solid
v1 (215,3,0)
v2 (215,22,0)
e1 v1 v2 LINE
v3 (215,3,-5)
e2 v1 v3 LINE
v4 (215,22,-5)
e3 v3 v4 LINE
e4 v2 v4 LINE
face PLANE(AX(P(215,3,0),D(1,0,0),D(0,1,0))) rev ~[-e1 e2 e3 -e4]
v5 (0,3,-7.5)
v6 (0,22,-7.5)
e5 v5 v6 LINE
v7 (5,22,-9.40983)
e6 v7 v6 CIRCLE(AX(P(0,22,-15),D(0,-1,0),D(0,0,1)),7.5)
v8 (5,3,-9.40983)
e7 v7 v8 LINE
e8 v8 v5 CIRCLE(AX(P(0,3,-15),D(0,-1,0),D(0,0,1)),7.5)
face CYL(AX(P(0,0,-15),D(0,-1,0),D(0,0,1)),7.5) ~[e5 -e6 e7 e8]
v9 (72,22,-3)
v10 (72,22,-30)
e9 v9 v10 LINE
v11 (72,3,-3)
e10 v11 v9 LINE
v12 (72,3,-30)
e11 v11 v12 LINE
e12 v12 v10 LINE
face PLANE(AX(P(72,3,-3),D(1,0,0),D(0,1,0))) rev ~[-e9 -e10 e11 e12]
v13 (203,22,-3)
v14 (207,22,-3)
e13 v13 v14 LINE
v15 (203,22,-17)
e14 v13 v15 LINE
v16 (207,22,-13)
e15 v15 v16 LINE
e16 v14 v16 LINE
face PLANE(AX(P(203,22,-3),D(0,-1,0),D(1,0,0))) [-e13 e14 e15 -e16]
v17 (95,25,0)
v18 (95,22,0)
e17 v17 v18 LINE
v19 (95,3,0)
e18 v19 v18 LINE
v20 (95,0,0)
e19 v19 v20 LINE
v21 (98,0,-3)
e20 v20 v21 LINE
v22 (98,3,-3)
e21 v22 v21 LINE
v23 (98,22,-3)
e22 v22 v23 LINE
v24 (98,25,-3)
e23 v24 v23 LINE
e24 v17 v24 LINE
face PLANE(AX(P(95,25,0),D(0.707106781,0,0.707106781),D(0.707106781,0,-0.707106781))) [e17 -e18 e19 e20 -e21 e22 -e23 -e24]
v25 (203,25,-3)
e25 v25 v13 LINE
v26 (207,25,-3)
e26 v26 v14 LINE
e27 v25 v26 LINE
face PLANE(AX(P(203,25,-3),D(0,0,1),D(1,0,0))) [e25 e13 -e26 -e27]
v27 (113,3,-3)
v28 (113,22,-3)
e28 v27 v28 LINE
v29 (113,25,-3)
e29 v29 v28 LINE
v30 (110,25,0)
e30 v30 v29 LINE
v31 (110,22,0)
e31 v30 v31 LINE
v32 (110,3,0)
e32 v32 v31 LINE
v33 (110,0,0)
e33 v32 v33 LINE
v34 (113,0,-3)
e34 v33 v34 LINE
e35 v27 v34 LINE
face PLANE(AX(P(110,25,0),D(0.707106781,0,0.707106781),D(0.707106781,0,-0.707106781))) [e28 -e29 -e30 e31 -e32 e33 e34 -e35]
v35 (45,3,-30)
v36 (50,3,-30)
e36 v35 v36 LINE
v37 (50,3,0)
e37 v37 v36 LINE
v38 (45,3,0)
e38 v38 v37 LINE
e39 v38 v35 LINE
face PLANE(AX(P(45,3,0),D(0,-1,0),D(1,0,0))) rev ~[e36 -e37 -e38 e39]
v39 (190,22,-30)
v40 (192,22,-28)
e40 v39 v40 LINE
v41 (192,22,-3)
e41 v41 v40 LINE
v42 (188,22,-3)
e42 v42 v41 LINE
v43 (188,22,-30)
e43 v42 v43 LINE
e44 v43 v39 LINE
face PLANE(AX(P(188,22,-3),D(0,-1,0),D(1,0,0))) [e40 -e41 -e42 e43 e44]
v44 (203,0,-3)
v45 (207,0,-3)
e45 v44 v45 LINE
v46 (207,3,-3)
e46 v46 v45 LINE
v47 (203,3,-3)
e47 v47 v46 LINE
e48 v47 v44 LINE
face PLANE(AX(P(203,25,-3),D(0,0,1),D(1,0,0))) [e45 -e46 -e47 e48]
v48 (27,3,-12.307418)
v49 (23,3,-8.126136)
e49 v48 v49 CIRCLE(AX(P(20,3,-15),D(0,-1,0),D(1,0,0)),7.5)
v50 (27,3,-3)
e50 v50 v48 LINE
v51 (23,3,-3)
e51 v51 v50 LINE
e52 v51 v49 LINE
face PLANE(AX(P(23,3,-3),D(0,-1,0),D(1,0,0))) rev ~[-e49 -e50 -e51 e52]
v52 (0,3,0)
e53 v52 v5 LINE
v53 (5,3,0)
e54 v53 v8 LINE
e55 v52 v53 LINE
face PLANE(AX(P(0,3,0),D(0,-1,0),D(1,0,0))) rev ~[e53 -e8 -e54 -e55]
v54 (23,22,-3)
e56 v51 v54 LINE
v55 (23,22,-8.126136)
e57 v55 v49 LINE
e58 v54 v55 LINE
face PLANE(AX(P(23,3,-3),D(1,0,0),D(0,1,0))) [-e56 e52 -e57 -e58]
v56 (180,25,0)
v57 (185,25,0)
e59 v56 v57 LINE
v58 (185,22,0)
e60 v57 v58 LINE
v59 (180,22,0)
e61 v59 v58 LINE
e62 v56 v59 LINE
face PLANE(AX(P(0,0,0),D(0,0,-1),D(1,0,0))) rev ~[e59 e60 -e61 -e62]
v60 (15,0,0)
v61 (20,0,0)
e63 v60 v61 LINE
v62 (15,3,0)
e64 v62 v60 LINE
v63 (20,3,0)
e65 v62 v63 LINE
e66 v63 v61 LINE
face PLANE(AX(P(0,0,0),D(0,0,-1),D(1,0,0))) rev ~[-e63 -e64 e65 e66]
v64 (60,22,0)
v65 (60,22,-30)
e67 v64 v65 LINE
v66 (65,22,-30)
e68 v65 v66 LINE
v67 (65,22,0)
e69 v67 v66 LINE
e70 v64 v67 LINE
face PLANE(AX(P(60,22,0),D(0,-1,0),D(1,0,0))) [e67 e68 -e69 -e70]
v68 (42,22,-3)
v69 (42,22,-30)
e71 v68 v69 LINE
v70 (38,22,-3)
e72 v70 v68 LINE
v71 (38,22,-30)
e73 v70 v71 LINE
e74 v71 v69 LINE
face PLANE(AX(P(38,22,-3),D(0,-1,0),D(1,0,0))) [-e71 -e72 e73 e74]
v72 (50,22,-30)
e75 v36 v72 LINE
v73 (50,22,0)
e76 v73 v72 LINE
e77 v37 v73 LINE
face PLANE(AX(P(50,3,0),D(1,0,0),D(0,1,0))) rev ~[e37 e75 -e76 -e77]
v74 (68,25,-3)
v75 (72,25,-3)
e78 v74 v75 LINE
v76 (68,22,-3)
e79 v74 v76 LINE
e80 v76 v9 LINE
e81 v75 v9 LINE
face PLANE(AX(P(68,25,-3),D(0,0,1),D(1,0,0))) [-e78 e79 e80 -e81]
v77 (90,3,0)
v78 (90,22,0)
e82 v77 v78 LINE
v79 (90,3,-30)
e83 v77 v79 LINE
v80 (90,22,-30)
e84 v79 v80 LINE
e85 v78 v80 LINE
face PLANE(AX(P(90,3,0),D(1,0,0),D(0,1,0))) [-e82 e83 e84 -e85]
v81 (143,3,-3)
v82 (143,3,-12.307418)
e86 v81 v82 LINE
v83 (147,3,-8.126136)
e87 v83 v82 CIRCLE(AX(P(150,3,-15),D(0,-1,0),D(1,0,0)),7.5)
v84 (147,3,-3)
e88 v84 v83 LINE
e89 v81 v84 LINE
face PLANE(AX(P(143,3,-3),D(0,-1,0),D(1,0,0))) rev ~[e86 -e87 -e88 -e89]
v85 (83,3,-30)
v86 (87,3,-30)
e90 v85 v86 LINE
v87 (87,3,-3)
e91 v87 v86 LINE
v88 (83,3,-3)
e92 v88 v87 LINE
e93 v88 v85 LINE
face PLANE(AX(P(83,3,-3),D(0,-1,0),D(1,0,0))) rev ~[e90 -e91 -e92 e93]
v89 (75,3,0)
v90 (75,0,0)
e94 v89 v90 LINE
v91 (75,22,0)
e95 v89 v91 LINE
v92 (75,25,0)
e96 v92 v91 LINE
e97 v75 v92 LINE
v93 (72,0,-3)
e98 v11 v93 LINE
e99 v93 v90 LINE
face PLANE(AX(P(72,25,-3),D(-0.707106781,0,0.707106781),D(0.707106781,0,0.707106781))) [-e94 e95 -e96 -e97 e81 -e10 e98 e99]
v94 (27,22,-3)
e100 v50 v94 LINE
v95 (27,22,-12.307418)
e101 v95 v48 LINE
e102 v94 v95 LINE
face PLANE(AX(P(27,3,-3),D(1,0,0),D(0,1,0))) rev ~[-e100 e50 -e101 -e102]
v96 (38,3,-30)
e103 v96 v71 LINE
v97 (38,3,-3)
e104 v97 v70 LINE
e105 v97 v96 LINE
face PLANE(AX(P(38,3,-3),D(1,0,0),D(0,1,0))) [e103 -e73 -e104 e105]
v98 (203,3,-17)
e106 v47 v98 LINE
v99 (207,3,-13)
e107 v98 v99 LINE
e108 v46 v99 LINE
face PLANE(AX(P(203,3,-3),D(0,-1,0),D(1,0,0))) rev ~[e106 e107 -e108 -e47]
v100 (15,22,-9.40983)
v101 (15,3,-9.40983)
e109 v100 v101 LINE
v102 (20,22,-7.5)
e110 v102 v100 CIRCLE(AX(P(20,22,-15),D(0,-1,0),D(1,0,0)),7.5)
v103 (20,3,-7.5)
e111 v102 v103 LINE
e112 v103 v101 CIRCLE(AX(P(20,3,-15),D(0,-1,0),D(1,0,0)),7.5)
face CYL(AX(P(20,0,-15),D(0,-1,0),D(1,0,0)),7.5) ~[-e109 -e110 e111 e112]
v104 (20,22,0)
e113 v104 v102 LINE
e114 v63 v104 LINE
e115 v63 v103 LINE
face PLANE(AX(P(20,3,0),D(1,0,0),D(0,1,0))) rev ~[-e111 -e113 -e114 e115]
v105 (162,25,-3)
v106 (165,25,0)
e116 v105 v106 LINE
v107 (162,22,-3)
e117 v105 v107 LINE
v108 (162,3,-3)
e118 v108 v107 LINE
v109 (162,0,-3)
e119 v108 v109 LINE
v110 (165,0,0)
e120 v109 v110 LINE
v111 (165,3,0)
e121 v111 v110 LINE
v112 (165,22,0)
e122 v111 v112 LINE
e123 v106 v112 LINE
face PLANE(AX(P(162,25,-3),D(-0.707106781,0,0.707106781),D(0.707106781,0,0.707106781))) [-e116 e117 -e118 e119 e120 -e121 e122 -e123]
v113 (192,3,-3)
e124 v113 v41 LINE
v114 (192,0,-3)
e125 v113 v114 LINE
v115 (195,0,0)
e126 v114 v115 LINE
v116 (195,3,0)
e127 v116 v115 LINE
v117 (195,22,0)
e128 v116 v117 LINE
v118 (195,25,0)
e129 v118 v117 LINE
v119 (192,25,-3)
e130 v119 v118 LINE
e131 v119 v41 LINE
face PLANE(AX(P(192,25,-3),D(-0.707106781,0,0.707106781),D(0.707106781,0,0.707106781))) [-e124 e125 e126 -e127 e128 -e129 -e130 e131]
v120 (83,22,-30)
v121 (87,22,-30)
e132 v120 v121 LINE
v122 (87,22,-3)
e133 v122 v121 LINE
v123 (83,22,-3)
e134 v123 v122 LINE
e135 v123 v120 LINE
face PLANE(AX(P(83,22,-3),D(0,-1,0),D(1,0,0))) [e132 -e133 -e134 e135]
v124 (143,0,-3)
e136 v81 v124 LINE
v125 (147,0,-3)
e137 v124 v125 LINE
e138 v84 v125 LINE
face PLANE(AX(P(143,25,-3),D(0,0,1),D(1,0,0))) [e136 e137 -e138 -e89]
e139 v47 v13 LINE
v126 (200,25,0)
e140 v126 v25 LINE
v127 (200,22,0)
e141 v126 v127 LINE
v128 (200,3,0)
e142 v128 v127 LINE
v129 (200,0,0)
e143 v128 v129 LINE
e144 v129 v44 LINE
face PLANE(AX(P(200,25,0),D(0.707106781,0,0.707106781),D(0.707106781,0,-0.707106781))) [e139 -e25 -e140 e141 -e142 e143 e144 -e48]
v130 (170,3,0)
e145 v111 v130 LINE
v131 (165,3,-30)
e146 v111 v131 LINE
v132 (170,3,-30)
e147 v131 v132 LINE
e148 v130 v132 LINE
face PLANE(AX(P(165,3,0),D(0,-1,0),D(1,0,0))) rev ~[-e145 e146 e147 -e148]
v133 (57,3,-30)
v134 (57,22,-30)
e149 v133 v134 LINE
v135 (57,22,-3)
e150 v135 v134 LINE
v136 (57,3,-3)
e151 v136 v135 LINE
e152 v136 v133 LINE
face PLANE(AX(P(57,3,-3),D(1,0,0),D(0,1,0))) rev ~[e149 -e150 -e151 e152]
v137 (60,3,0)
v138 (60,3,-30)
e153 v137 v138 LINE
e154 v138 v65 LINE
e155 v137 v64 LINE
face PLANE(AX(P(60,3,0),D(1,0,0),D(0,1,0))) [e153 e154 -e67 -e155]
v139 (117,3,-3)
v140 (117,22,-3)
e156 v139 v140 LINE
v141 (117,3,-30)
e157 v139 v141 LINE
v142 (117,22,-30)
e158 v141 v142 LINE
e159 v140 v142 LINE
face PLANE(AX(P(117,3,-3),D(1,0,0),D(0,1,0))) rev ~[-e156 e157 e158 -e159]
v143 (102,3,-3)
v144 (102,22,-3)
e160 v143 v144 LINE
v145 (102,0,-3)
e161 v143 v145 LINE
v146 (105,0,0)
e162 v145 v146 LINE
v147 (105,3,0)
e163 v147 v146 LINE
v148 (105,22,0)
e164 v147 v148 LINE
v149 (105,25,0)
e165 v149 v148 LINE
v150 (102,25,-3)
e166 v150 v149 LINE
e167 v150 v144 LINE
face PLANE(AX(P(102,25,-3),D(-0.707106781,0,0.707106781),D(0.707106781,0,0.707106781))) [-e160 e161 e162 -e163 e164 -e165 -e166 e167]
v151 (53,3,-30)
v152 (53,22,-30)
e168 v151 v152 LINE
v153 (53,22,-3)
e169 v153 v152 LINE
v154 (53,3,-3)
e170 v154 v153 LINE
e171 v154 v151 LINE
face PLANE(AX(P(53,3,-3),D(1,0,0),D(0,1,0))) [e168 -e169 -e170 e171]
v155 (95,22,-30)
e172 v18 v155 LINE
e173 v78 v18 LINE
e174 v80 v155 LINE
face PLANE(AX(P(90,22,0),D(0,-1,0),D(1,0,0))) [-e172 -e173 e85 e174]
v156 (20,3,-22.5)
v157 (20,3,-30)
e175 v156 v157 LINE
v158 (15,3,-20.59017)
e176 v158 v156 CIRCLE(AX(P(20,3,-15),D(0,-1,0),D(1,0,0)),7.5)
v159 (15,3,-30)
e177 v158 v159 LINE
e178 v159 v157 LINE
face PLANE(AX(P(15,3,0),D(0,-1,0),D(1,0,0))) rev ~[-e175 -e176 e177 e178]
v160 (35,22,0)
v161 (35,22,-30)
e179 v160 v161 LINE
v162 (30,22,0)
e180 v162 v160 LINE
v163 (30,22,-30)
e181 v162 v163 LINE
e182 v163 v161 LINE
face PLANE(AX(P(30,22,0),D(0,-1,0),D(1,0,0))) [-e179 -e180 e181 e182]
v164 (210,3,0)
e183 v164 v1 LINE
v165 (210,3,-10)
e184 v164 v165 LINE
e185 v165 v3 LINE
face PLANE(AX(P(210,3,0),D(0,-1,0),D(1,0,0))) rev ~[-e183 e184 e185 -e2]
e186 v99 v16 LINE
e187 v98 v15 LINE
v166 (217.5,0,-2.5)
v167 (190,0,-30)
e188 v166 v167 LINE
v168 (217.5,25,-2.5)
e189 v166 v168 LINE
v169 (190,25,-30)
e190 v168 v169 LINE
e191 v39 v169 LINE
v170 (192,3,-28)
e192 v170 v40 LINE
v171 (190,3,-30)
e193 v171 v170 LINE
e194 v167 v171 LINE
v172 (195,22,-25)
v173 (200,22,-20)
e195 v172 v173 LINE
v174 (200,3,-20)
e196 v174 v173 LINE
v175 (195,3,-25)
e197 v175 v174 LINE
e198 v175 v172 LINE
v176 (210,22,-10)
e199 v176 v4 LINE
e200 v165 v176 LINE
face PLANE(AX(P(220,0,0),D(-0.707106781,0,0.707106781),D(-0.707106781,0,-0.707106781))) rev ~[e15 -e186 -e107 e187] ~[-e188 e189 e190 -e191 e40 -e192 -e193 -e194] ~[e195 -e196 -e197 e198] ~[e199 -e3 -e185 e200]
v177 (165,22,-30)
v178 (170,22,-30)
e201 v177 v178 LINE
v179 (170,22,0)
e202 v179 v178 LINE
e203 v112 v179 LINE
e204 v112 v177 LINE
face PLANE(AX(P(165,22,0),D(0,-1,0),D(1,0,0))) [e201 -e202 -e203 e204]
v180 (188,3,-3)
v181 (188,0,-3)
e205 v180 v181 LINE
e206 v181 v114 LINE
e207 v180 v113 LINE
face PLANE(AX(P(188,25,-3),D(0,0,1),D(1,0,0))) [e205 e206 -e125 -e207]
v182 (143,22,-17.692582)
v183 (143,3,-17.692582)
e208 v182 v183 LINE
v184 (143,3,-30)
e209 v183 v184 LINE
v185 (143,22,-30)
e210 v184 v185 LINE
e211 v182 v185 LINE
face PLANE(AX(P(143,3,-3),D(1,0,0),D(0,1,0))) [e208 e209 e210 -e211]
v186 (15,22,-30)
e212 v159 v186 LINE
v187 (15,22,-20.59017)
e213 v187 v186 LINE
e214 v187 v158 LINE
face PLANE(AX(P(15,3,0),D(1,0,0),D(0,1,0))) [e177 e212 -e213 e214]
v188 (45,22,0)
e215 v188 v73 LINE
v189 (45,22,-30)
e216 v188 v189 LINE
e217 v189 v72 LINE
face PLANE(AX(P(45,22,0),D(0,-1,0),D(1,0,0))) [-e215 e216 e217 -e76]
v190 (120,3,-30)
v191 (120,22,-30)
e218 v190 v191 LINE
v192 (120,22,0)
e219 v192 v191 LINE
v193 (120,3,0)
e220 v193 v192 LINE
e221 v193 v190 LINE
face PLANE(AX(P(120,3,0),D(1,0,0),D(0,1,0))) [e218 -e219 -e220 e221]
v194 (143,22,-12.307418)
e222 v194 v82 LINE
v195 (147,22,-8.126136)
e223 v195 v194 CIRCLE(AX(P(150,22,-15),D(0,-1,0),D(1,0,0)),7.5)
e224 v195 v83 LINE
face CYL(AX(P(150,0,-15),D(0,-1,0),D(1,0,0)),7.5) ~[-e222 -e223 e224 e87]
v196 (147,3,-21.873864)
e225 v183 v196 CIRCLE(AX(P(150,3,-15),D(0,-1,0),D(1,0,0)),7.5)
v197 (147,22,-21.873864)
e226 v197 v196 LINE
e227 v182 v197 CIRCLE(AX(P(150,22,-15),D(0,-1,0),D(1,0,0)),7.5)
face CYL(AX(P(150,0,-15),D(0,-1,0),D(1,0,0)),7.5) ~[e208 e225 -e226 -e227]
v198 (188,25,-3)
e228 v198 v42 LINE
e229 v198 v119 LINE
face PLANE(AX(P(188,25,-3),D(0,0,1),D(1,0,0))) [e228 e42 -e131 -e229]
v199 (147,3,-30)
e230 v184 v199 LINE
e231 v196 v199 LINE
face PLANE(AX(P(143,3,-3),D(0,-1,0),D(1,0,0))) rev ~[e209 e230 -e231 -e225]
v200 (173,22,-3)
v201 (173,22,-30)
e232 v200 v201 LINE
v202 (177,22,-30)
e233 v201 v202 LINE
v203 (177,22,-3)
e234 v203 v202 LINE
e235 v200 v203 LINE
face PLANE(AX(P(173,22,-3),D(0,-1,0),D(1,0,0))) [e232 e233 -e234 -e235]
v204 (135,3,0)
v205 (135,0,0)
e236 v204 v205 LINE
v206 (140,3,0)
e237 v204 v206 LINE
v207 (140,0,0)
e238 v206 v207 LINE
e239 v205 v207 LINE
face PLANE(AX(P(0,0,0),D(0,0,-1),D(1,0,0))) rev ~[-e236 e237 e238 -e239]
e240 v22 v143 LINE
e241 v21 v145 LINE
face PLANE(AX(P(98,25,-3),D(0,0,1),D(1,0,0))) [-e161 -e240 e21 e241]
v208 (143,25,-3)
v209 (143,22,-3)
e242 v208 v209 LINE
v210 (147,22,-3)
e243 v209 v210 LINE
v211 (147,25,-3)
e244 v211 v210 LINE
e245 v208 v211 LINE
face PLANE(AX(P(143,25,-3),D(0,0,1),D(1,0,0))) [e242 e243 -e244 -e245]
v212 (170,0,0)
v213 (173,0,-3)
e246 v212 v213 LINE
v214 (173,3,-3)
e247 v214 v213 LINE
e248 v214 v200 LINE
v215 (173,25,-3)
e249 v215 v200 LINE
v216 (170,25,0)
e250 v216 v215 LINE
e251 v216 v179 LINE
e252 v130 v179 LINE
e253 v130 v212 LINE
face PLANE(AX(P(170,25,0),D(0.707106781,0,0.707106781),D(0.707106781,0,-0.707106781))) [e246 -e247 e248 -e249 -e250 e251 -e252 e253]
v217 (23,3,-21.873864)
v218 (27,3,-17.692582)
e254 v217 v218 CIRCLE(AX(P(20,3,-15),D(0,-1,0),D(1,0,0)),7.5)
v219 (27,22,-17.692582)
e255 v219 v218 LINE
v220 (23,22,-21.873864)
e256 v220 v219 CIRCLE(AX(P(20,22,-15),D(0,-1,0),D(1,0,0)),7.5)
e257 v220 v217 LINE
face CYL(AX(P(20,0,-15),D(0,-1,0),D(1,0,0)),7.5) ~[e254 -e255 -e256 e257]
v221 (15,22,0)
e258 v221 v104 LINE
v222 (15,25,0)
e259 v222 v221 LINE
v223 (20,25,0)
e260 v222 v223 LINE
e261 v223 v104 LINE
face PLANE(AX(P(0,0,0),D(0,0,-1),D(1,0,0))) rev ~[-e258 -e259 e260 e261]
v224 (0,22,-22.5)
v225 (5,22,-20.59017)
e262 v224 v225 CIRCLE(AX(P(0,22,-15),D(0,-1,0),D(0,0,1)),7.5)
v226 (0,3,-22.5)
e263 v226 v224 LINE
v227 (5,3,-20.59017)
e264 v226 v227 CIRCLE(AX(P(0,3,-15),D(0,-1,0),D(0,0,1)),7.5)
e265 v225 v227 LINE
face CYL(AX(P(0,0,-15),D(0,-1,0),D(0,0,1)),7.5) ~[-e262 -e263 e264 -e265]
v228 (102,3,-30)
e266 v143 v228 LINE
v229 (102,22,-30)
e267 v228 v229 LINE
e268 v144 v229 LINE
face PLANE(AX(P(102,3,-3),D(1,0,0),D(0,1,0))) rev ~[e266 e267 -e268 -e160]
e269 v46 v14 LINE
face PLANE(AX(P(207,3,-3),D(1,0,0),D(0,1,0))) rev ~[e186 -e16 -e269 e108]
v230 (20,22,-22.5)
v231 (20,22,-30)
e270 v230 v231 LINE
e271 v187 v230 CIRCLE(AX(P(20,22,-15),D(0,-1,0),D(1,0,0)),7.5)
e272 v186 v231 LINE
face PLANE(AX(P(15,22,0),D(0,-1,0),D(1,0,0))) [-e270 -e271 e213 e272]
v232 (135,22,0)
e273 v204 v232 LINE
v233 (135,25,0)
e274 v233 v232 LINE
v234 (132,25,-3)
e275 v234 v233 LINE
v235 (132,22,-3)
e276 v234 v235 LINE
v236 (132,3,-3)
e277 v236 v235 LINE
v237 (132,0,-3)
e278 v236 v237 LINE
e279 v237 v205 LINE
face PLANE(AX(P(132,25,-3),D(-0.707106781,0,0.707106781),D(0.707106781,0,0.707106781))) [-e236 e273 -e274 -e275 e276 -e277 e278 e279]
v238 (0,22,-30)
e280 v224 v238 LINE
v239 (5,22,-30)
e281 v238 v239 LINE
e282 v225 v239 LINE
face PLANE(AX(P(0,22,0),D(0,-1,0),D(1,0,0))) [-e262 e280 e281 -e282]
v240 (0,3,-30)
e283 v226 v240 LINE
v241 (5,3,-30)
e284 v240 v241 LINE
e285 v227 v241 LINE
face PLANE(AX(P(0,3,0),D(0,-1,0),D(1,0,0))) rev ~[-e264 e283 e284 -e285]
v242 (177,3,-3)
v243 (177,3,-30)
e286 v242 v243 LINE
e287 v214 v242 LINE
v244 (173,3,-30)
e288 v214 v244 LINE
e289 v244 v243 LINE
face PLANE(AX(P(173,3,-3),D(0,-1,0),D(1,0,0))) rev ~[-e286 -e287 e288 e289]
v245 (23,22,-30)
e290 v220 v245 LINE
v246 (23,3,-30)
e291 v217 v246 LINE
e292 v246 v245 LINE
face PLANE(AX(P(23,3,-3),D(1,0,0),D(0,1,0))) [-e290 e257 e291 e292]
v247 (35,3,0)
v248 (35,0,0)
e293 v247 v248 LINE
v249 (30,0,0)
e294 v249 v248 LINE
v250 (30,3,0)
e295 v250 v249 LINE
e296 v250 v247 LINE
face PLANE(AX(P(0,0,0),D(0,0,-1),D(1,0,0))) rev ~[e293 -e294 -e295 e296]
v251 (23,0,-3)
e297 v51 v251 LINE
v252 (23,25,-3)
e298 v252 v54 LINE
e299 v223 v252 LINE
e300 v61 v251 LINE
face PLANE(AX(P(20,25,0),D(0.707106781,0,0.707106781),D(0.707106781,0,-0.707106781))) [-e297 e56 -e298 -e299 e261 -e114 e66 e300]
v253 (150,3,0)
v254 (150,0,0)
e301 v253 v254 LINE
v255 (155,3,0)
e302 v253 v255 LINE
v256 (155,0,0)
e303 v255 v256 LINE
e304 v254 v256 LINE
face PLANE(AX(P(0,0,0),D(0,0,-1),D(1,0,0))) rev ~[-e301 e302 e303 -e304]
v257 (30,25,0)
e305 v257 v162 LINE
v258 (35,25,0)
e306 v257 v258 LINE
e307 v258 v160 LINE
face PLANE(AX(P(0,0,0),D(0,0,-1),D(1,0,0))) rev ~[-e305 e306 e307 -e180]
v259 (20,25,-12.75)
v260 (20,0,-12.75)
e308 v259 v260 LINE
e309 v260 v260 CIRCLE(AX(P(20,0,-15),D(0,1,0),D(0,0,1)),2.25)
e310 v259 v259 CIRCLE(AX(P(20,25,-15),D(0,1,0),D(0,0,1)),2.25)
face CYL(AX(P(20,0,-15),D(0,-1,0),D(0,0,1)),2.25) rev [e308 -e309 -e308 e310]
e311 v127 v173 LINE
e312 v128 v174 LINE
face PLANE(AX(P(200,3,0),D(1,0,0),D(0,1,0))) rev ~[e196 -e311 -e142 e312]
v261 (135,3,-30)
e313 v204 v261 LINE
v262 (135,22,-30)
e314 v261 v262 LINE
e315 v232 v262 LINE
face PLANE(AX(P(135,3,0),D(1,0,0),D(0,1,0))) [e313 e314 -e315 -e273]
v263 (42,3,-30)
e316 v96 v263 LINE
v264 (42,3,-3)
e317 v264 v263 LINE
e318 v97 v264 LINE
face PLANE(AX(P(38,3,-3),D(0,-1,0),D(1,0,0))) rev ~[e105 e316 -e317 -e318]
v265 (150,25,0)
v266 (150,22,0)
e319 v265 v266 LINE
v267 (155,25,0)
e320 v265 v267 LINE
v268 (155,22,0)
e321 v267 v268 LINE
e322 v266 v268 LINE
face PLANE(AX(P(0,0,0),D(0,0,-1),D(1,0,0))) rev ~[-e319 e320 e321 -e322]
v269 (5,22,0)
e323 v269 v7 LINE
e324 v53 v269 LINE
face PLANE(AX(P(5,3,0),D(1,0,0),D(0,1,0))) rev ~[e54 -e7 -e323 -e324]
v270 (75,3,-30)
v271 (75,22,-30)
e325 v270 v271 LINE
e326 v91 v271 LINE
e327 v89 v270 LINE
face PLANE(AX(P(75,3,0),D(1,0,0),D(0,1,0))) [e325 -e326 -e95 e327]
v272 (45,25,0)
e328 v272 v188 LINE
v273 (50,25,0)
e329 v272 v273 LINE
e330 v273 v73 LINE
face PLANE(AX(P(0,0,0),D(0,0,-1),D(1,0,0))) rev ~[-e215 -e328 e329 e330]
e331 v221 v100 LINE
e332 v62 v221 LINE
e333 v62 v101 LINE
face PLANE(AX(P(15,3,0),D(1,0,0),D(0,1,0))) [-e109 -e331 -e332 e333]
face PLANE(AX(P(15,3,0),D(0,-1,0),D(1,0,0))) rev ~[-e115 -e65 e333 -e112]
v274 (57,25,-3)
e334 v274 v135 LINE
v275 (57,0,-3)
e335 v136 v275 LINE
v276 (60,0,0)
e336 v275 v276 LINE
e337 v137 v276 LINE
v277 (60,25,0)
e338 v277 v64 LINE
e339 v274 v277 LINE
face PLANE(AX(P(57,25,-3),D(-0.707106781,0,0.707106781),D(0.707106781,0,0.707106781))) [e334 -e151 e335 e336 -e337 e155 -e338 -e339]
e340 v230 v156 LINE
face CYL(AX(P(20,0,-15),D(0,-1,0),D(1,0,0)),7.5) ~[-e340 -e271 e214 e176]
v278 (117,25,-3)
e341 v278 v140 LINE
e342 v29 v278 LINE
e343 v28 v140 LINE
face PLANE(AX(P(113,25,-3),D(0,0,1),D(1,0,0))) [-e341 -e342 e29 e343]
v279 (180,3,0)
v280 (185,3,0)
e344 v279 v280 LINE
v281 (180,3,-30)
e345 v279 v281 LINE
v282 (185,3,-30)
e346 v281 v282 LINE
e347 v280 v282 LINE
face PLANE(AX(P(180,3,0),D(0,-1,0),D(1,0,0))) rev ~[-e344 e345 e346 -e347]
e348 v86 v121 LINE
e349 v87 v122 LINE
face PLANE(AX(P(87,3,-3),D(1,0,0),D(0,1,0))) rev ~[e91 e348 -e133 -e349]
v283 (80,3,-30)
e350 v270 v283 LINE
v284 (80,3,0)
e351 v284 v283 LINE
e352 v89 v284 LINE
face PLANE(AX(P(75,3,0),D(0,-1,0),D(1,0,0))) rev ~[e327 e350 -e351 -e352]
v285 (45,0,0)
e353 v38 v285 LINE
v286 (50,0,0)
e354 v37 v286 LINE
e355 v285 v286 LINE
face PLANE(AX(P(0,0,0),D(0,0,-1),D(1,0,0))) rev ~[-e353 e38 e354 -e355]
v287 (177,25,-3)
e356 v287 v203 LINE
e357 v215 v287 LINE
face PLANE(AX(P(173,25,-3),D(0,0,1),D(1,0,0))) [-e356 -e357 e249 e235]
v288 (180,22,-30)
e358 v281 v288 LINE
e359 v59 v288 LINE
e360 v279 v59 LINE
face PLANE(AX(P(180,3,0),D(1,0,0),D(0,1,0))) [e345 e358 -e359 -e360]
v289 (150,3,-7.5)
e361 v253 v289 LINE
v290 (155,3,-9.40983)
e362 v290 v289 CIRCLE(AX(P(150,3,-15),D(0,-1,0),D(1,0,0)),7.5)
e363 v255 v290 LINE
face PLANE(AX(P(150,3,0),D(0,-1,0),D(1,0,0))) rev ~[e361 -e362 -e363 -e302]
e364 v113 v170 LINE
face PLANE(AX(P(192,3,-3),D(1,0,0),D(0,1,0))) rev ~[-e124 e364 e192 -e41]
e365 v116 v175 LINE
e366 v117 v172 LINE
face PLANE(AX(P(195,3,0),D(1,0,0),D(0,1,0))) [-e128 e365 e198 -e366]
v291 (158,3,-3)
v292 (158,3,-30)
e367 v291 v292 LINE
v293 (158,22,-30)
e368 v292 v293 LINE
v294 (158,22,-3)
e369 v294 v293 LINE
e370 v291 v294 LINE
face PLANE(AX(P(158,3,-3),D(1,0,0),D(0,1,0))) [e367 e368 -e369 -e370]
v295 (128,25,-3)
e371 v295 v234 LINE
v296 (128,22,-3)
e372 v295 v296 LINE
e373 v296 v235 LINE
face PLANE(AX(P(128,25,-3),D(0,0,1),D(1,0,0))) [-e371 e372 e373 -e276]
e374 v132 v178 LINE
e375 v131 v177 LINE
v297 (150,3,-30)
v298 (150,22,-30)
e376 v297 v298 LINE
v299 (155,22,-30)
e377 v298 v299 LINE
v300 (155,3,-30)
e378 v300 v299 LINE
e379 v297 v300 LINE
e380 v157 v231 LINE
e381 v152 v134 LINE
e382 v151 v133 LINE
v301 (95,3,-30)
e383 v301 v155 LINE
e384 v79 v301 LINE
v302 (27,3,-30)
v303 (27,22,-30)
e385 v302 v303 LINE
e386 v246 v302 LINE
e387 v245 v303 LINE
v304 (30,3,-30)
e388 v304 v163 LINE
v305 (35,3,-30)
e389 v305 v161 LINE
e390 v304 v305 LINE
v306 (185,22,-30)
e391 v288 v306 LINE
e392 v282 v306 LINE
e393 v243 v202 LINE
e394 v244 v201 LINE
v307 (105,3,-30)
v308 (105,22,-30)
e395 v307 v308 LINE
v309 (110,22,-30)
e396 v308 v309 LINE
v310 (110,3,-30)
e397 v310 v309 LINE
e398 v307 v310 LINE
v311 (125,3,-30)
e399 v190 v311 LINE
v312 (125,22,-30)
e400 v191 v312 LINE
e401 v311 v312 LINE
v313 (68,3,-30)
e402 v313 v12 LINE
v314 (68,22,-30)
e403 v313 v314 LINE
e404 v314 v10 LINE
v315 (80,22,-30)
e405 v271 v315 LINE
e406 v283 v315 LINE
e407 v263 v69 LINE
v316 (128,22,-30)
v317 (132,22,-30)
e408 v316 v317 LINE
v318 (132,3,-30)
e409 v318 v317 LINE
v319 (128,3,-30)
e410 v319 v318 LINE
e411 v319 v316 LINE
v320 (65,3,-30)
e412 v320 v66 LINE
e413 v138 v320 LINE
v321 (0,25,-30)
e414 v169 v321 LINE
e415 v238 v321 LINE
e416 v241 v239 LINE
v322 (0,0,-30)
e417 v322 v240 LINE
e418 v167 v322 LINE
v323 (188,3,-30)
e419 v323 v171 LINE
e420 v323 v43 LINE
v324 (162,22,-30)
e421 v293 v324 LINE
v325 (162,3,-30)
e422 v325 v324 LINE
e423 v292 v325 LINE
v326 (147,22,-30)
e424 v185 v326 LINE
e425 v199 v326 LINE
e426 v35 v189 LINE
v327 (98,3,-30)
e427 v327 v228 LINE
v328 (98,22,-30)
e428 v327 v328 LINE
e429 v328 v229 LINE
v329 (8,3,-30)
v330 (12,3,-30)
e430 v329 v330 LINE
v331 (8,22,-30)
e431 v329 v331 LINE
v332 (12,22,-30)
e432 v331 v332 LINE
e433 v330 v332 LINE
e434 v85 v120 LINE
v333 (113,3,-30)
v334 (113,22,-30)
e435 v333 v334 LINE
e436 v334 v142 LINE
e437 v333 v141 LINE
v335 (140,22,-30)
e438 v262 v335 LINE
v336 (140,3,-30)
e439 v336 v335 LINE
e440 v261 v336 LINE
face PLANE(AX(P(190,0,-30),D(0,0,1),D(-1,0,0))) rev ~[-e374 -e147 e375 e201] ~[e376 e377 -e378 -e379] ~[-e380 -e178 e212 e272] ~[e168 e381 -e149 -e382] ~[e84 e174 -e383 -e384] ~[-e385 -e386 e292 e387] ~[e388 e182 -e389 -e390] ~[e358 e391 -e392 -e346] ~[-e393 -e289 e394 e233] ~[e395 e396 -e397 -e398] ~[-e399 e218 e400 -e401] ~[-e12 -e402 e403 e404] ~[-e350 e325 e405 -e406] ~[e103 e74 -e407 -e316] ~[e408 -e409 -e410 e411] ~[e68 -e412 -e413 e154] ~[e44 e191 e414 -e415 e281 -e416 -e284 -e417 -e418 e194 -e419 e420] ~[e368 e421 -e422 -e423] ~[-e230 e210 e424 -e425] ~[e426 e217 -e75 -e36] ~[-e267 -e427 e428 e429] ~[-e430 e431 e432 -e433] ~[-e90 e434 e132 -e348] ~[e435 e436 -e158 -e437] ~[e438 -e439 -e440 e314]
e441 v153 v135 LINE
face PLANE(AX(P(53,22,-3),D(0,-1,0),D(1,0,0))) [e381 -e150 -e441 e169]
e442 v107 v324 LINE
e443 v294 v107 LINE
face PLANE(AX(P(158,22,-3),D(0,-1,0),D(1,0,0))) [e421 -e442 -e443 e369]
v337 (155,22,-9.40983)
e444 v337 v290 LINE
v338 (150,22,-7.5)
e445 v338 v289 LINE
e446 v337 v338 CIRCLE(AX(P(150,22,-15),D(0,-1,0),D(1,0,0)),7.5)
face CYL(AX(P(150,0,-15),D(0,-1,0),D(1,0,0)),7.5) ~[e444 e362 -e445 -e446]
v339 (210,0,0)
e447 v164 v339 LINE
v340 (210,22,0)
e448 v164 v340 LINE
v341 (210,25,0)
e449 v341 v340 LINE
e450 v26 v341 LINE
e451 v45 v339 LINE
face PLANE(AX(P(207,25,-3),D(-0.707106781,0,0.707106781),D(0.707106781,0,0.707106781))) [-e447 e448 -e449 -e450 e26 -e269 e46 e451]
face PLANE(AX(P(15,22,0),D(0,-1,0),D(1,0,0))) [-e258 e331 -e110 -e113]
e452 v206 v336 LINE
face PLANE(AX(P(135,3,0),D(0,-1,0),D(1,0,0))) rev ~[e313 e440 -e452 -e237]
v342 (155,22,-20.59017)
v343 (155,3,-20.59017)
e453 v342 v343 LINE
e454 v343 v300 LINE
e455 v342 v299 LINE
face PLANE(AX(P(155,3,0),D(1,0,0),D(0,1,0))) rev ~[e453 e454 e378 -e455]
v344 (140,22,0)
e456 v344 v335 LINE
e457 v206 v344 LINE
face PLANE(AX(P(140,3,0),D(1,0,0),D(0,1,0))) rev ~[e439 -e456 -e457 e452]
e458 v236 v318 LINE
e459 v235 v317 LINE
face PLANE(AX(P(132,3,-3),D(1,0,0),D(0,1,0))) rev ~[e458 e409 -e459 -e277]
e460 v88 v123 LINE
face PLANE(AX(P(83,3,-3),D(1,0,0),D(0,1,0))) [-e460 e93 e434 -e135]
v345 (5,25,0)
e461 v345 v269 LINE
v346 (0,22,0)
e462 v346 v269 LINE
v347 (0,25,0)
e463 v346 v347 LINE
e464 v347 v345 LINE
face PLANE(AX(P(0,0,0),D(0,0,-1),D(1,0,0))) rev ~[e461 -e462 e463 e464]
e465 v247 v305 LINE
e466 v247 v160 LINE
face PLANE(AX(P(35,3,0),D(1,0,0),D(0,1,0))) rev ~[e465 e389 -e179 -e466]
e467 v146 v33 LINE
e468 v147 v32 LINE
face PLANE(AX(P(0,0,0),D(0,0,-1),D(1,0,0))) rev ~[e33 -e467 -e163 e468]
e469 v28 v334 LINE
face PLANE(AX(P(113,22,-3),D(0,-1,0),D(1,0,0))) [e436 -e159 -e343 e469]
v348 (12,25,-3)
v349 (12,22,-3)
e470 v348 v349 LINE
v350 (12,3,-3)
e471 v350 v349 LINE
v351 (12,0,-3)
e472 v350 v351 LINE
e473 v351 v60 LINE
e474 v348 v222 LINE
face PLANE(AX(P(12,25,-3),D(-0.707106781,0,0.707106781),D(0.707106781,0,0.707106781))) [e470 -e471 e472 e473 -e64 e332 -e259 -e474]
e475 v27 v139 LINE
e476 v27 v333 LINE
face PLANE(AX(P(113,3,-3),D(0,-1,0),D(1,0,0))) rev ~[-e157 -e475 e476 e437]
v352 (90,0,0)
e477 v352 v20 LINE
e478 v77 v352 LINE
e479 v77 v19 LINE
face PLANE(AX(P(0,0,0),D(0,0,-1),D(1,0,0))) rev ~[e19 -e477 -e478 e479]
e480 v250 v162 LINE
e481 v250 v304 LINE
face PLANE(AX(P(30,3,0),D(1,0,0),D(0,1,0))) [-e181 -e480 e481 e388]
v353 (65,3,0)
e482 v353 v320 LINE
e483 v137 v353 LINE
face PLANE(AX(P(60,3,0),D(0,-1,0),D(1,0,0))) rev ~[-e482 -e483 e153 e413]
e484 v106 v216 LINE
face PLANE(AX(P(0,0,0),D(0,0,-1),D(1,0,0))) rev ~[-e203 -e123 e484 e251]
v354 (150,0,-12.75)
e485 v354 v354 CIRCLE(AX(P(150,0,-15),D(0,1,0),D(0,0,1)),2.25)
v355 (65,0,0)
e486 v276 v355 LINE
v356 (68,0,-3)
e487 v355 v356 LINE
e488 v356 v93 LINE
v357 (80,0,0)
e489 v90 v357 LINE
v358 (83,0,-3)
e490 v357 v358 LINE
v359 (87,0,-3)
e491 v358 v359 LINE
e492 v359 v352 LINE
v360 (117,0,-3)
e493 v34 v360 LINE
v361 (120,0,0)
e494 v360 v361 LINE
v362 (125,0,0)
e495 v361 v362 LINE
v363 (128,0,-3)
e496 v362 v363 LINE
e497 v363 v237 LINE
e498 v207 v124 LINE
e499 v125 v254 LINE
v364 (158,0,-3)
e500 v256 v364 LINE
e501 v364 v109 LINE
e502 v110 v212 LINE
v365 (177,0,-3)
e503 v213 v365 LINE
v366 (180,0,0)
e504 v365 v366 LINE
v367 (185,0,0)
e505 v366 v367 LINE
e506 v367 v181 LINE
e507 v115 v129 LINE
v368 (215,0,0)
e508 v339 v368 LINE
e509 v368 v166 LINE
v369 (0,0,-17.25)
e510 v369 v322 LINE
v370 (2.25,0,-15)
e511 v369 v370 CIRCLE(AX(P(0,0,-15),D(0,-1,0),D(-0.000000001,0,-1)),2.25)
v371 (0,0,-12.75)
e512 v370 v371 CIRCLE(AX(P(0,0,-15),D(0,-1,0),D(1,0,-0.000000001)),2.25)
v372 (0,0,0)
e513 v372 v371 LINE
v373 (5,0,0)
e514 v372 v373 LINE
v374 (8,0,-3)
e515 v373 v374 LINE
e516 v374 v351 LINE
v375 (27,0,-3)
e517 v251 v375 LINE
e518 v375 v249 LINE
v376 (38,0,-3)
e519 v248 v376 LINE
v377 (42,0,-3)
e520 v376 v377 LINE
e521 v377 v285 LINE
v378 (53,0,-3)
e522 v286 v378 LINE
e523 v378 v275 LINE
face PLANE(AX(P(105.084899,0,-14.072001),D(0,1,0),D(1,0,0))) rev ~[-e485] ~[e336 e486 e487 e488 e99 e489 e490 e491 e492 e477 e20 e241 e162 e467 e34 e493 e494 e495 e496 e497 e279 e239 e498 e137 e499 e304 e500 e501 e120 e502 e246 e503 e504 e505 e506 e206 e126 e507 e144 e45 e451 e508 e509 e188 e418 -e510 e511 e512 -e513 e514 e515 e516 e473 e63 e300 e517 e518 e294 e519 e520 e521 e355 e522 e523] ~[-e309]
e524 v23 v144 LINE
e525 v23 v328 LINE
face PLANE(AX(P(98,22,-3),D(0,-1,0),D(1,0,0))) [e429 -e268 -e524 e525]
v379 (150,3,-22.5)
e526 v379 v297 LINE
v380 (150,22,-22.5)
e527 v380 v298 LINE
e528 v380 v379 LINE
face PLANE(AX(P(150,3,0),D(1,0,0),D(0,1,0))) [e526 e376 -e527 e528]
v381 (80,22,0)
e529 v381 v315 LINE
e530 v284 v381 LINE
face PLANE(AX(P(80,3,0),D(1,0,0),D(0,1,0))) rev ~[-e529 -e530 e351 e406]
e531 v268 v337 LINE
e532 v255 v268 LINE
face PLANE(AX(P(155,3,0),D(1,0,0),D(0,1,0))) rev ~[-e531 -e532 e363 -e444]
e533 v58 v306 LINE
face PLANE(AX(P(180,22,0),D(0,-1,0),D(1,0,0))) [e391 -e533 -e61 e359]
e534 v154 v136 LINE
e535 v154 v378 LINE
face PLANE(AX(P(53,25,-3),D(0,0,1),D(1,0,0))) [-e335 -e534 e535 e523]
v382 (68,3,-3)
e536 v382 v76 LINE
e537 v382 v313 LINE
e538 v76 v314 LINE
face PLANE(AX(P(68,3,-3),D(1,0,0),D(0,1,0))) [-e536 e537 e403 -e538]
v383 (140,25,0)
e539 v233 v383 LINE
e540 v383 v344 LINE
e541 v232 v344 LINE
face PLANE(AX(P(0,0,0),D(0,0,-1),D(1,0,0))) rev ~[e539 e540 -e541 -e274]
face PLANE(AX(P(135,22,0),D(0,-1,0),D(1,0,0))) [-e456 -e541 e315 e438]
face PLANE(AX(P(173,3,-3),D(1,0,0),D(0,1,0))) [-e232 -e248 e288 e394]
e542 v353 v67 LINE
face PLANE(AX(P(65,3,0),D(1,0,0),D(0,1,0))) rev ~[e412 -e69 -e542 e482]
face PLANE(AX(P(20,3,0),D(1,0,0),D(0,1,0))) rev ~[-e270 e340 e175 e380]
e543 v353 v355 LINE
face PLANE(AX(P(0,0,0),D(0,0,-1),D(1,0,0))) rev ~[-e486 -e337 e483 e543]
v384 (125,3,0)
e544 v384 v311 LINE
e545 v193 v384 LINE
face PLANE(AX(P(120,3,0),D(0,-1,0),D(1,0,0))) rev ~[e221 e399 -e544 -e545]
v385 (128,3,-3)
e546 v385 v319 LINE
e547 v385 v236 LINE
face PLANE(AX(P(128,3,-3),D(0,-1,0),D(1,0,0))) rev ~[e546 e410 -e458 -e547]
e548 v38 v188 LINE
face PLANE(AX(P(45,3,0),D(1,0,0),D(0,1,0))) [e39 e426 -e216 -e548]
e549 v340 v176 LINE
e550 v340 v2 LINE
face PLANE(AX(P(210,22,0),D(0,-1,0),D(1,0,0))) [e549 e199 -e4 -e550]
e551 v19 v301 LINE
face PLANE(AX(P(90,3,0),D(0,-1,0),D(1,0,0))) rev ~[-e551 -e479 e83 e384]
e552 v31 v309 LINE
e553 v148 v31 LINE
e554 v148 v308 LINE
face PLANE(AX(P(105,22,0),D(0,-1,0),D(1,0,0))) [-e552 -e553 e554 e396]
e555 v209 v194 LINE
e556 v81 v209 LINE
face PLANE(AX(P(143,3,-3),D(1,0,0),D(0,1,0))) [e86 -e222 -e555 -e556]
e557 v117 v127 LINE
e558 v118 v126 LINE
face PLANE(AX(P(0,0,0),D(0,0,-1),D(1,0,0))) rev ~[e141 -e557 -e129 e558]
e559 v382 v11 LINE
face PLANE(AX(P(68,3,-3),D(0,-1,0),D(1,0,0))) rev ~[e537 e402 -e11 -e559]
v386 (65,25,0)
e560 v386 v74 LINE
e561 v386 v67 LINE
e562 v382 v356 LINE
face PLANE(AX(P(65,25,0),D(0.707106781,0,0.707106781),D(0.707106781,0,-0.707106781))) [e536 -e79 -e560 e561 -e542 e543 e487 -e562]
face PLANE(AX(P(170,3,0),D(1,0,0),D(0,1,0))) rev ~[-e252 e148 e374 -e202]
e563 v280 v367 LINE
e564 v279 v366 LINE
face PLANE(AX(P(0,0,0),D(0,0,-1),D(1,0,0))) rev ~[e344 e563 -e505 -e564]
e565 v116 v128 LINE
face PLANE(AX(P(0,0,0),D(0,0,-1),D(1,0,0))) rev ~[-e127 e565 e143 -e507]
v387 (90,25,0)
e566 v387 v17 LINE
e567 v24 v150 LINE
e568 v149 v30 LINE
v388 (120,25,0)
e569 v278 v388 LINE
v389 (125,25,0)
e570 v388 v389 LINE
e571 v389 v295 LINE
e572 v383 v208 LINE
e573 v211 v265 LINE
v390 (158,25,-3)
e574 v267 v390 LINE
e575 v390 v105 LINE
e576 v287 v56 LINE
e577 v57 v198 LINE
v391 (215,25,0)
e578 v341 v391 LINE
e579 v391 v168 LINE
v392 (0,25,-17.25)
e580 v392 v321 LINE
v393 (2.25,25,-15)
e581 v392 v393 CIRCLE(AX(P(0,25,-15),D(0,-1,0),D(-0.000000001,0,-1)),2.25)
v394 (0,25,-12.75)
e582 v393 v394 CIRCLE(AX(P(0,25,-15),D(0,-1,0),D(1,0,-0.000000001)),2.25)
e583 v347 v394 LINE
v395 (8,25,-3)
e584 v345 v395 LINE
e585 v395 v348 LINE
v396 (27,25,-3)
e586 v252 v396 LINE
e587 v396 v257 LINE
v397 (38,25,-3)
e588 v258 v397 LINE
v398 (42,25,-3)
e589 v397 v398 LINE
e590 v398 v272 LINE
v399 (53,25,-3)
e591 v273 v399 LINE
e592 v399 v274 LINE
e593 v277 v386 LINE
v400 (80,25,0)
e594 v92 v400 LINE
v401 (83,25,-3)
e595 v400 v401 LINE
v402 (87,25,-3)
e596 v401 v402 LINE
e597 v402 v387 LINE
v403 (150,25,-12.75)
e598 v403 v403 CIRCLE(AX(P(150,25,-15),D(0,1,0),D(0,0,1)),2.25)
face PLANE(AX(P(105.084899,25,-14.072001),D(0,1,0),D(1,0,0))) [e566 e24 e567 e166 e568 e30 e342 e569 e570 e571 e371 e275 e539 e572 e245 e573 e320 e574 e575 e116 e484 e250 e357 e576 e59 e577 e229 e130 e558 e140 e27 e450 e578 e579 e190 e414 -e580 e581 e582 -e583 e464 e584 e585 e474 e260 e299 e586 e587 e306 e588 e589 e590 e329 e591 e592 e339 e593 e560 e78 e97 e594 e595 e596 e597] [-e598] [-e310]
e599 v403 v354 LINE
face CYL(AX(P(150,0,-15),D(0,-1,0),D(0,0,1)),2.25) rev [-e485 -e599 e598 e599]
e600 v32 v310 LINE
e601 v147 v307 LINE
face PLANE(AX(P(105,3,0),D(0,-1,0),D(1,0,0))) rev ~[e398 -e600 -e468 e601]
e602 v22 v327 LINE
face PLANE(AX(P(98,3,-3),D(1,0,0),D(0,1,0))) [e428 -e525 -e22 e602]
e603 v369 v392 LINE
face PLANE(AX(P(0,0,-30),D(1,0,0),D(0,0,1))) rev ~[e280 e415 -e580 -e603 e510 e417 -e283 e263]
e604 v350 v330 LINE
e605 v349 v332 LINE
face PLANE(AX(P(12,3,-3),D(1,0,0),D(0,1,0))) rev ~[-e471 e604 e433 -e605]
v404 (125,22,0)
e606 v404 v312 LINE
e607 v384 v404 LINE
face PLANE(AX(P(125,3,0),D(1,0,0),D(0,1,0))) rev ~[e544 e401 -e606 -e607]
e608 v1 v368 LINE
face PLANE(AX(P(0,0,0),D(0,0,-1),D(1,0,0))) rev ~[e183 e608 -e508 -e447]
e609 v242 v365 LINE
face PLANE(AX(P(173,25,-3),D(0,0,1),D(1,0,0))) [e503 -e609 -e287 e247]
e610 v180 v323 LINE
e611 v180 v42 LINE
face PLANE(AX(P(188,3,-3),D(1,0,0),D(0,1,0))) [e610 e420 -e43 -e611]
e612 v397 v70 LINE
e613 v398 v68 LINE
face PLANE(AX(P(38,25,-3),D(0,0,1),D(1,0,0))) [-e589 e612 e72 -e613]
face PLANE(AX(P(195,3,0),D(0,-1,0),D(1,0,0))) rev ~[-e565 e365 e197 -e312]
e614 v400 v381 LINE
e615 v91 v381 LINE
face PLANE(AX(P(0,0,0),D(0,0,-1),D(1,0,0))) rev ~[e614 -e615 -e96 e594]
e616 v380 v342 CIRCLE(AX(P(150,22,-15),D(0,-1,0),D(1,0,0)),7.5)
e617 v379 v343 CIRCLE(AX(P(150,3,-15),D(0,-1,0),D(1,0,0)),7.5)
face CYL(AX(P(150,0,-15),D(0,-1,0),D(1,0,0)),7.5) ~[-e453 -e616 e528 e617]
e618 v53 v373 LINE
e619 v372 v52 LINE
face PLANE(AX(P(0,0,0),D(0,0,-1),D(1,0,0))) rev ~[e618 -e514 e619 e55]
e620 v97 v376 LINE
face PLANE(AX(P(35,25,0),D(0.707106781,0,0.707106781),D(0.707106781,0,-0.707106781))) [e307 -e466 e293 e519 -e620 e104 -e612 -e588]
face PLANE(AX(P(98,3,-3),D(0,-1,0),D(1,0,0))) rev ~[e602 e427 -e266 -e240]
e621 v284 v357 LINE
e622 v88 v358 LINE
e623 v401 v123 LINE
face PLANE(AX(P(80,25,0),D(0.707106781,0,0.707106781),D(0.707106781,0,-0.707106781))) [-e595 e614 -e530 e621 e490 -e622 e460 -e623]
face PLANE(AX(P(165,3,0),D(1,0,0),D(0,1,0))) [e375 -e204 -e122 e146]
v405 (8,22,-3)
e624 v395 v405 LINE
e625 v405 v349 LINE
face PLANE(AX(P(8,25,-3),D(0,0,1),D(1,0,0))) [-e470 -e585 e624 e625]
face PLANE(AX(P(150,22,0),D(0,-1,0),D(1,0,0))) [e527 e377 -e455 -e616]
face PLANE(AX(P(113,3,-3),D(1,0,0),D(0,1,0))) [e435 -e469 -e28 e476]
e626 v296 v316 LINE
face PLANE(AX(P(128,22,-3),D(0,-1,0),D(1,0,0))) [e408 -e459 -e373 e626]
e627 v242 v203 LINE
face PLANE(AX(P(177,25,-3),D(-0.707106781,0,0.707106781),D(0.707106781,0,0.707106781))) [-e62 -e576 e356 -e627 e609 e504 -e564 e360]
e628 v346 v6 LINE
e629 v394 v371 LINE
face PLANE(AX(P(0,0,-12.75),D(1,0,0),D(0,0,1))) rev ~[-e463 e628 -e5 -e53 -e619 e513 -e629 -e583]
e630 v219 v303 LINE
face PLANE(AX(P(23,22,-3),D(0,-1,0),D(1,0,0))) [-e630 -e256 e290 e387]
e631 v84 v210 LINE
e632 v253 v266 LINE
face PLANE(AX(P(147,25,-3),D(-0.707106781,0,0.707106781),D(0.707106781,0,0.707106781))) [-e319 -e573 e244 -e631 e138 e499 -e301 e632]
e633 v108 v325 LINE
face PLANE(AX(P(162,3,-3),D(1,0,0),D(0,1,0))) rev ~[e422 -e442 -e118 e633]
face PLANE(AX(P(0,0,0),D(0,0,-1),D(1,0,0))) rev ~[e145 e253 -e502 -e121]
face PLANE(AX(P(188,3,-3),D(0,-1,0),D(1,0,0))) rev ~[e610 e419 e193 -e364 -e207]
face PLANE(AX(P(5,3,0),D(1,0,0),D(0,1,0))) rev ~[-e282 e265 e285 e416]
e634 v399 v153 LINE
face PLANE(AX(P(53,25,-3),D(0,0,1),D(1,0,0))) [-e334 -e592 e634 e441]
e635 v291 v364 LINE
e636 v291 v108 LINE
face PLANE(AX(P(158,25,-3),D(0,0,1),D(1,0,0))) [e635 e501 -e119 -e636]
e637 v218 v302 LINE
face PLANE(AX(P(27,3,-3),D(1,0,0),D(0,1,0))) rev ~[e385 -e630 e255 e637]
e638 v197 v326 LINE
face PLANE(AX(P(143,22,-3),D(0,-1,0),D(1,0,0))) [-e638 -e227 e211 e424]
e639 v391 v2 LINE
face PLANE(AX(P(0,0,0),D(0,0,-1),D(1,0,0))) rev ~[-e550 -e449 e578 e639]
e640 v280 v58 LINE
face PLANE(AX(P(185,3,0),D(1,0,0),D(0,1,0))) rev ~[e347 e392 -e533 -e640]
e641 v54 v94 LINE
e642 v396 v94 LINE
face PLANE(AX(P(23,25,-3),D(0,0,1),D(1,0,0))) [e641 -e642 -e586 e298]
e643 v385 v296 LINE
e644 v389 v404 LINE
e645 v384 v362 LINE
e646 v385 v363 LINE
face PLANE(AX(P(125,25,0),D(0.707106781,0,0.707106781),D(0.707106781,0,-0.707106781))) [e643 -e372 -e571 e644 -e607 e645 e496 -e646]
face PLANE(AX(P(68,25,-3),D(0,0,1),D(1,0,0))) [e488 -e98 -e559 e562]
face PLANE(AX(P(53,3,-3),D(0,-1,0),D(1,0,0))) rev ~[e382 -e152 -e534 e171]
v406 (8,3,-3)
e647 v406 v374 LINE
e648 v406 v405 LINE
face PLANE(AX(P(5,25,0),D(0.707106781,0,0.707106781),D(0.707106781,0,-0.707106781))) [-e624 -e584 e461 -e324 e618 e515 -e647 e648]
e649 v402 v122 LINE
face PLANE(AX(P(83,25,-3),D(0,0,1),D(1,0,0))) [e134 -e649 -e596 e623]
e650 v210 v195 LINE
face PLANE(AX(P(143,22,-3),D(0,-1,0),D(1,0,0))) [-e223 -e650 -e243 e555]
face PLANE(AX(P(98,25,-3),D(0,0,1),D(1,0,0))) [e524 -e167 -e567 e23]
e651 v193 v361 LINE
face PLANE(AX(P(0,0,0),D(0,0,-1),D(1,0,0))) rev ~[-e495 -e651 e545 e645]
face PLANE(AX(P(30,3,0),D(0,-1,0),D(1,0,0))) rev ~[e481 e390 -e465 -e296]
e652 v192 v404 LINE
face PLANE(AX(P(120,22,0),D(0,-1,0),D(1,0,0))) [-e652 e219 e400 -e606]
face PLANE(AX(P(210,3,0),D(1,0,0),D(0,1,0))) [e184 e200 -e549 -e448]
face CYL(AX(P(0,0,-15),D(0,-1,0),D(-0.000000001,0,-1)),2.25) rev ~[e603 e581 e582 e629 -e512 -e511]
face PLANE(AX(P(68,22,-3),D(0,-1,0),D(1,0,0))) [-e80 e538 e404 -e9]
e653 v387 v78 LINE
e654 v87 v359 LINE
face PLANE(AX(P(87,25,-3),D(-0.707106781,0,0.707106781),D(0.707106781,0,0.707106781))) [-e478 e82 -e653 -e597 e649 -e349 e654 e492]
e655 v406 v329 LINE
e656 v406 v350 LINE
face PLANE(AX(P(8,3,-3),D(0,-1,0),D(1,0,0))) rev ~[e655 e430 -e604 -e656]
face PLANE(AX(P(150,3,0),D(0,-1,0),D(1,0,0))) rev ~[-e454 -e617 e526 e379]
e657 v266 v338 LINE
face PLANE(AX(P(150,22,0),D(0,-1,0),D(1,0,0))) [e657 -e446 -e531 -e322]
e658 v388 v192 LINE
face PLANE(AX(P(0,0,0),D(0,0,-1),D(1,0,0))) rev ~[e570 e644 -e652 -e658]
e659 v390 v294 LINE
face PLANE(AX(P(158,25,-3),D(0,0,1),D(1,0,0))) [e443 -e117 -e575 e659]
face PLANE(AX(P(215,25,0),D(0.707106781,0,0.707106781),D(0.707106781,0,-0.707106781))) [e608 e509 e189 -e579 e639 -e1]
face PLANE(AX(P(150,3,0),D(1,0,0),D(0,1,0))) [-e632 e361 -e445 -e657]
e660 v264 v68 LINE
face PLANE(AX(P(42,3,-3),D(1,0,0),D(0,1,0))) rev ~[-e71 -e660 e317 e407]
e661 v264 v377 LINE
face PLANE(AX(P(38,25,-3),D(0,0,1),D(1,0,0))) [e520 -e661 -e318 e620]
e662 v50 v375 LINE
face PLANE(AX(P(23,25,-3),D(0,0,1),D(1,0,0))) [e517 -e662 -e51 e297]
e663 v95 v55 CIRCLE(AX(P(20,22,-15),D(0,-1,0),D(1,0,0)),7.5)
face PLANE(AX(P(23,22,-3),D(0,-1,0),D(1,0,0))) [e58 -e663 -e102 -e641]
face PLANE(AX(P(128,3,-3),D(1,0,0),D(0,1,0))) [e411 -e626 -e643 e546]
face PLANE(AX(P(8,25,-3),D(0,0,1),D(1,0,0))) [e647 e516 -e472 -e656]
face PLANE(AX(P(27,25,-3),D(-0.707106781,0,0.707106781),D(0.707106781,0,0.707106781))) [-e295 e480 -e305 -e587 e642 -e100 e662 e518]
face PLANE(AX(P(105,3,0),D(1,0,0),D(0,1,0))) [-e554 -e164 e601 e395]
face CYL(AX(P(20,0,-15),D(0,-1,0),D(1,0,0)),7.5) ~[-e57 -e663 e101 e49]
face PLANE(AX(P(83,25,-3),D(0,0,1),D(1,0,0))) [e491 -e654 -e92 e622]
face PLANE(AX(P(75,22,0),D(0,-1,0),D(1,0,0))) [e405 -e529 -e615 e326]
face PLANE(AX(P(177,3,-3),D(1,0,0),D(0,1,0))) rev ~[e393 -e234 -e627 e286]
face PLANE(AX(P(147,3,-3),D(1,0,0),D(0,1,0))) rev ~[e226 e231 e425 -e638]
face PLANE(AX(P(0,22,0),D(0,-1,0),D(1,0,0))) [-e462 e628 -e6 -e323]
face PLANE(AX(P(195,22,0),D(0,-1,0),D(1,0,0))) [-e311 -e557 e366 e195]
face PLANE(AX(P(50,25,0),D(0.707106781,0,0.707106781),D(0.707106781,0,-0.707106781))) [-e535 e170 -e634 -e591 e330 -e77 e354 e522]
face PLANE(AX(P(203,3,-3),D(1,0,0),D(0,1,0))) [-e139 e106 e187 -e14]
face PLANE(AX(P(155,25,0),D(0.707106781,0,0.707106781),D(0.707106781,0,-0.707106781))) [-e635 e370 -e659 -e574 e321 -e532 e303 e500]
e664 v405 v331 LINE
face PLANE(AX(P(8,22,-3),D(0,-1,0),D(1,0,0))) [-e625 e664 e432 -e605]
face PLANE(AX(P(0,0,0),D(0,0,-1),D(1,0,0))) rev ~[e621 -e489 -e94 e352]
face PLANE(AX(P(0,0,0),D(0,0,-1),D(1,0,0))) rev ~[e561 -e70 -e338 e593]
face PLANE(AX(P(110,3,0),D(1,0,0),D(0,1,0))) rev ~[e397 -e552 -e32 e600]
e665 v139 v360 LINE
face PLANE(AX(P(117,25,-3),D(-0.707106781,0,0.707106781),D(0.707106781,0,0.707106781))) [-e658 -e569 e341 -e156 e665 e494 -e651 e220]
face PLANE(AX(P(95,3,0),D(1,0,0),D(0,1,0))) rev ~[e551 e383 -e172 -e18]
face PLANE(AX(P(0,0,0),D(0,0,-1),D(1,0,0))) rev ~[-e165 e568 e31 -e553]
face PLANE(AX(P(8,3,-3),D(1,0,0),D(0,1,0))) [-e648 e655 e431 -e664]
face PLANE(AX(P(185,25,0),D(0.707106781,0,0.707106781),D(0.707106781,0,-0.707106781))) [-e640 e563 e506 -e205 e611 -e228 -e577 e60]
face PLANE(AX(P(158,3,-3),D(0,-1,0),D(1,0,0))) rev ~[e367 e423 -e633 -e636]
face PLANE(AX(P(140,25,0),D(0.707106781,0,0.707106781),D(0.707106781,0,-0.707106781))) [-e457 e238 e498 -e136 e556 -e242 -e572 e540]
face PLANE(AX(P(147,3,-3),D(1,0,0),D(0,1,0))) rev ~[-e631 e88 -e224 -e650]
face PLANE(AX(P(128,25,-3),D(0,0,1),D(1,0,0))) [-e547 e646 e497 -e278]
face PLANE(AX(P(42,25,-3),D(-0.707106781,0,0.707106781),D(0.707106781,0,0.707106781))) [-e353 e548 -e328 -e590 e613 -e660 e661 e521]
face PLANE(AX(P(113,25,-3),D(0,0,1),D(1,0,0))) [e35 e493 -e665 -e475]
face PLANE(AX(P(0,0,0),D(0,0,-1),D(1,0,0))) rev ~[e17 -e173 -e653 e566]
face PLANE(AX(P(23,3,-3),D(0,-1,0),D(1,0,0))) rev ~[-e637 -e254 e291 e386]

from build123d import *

# Parameters (mm, degrees)
SKETCH3_R           = 2.25
BOSS_EXTRUDE2_DEPTH = 25
CUT_EXTRUDE2_DEPTH  = 54
SKETCH7_W           = 4
SKETCH7_H           = 19
CUT_EXTRUDE3_DEPTH  = 54
SKETCH8_W           = 5
SKETCH8_H           = 19
CUT_EXTRUDE4_DEPTH  = 54
BOSS_EXTRUDE3_START = -25
SKETCH9_R           = 7.5
SKETCH9_R_2         = 2.25
BOSS_EXTRUDE3_DEPTH = 25


with BuildPart() as part:
    # Sketch3 → Boss-Extrude2 (new body)
    with BuildSketch(Plane(origin=(0, 0, 0), x_dir=(1, 0, 0), z_dir=(0, 1, 0))):
        with BuildLine():
            Line((0, 12.75), (0, 0))
            Line((0, 0), (220, 0))
            Line((220, 0), (190, 30))
            Line((190, 30), (0, 30))
            Line((0, 30), (0, 17.25))
            ThreePointArc((0, 17.25), (1.590990258, 16.590990258), (2.25, 15))
            ThreePointArc((2.25, 15), (1.590990258, 13.409009742), (0, 12.75))
        make_face()
        with Locations(Location((20, 15, 0), (0, 0, 270))):
            Circle(SKETCH3_R, mode=Mode.SUBTRACT)
        with Locations(Location((150, 15, 0), (0, 0, 270))):
            Circle(SKETCH3_R, mode=Mode.SUBTRACT)
    extrude(amount=BOSS_EXTRUDE2_DEPTH)

    # Sketch6 → Cut-Extrude2 (cut)
    with BuildSketch(Plane(origin=(0, 25, 0), x_dir=(1, 0, 0), z_dir=(0, 1, 0))):
        Polygon((0, 0), (5, 0), (8, 3), (12, 3), (15, 0), (20, 0), (23, 3), (27, 3), (30, 0), (35, 0), (38, 3), (42, 3), (45, 0), (50, 0), (53, 3), (57, 3), (60, 0), (65, 0), (68, 3), (72, 3), (75, 0), (80, 0), (83, 3), (87, 3), (90, 0), (95, 0), (98, 3), (102, 3), (105, 0), (110, 0), (113, 3), (117, 3), (120, 0), (125, 0), (128, 3), (132, 3), (135, 0), (140, 0), (143, 3), (147, 3), (150, 0), (155, 0), (158, 3), (162, 3), (165, 0), (170, 0), (173, 3), (177, 3), (180, 0), (185, 0), (188, 3), (192, 3), (195, 0), (200, 0), (203, 3), (207, 3), (210, 0), (215, 0), (218, 3), (222, 3), (225, 0), (225, -19.034705474), (0, -19.034705474), align=None)
    extrude(amount=-CUT_EXTRUDE2_DEPTH, mode=Mode.SUBTRACT)

    # Sketch7 → Cut-Extrude3 (cut)
    with BuildSketch(Plane.XY.offset(-3)):
        with Locations((10, 12.5)):
            Rectangle(SKETCH7_W, SKETCH7_H)
        with Locations((25, 12.5)):
            Rectangle(SKETCH7_W, SKETCH7_H)
        with Locations((40, 12.5)):
            Rectangle(SKETCH7_W, SKETCH7_H)
        with Locations((55, 12.5)):
            Rectangle(SKETCH7_W, SKETCH7_H)
        with Locations((70, 12.5)):
            Rectangle(SKETCH7_W, SKETCH7_H)
        with Locations((85, 12.5)):
            Rectangle(SKETCH7_W, SKETCH7_H)
        with Locations((100, 12.5)):
            Rectangle(SKETCH7_W, SKETCH7_H)
        with Locations((115, 12.5)):
            Rectangle(SKETCH7_W, SKETCH7_H)
        with Locations((130, 12.5)):
            Rectangle(SKETCH7_W, SKETCH7_H)
        with Locations((145, 12.5)):
            Rectangle(SKETCH7_W, SKETCH7_H)
        with Locations((160, 12.5)):
            Rectangle(SKETCH7_W, SKETCH7_H)
        with Locations((175, 12.5)):
            Rectangle(SKETCH7_W, SKETCH7_H)
        with Locations((190, 12.5)):
            Rectangle(SKETCH7_W, SKETCH7_H)
        with Locations((205, 12.5)):
            Rectangle(SKETCH7_W, SKETCH7_H)
        with Locations((220, 12.5)):
            Rectangle(SKETCH7_W, SKETCH7_H)
    extrude(amount=-CUT_EXTRUDE3_DEPTH, mode=Mode.SUBTRACT)

    # Sketch8 → Cut-Extrude4 (cut)
    with BuildSketch(Plane.XY):
        with Locations((2.5, 12.5)):
            Rectangle(SKETCH8_W, SKETCH8_H)
        with Locations((17.5, 12.5)):
            Rectangle(SKETCH8_W, SKETCH8_H)
        with Locations((32.5, 12.5)):
            Rectangle(SKETCH8_W, SKETCH8_H)
        with Locations((47.5, 12.5)):
            Rectangle(SKETCH8_W, SKETCH8_H)
        with Locations((62.5, 12.5)):
            Rectangle(SKETCH8_W, SKETCH8_H)
        with Locations((77.5, 12.5)):
            Rectangle(SKETCH8_W, SKETCH8_H)
        with Locations((92.5, 12.5)):
            Rectangle(SKETCH8_W, SKETCH8_H)
        with Locations((107.5, 12.5)):
            Rectangle(SKETCH8_W, SKETCH8_H)
        with Locations((122.5, 12.5)):
            Rectangle(SKETCH8_W, SKETCH8_H)
        with Locations((137.5, 12.5)):
            Rectangle(SKETCH8_W, SKETCH8_H)
        with Locations((152.5, 12.5)):
            Rectangle(SKETCH8_W, SKETCH8_H)
        with Locations((167.5, 12.5)):
            Rectangle(SKETCH8_W, SKETCH8_H)
        with Locations((182.5, 12.5)):
            Rectangle(SKETCH8_W, SKETCH8_H)
        with Locations((197.5, 12.5)):
            Rectangle(SKETCH8_W, SKETCH8_H)
        with Locations((212.5, 12.5)):
            Rectangle(SKETCH8_W, SKETCH8_H)
    extrude(amount=-CUT_EXTRUDE4_DEPTH, mode=Mode.SUBTRACT)

    # Sketch9 → Boss-Extrude3 (add)
    # profile 1 of 3: a face of its own
    with BuildSketch(Plane(origin=(0, 25, 0), x_dir=(1, 0, 0), z_dir=(0, 1, 0)).offset(BOSS_EXTRUDE3_START)):
        with Locations((20, 15)):
            Circle(SKETCH9_R)
        with Locations(Location((20, 15, 0), (0, 0, 270))):
            Circle(SKETCH9_R_2, mode=Mode.SUBTRACT)
    # profile 2 of 3: a face of its own
    with BuildSketch(Plane(origin=(0, 25, 0), x_dir=(1, 0, 0), z_dir=(0, 1, 0)).offset(BOSS_EXTRUDE3_START)):
        with Locations((150, 15)):
            Circle(SKETCH9_R)
        with Locations(Location((150, 15, 0), (0, 0, 270))):
            Circle(SKETCH9_R_2, mode=Mode.SUBTRACT)
    # profile 3 of 3: a face of its own
    with BuildSketch(Plane(origin=(0, 25, 0), x_dir=(1, 0, 0), z_dir=(0, 1, 0)).offset(BOSS_EXTRUDE3_START)):
        with BuildLine():
            Line((0, 22.5), (0, 17.25))
            ThreePointArc((0, 17.25), (2.25, 15), (0, 12.75))
            Line((0, 12.75), (0, 7.5))
            ThreePointArc((0, 7.5), (7.5, 15), (0, 22.5))
        make_face()
    extrude(amount=BOSS_EXTRUDE3_DEPTH)


solid = part.part
